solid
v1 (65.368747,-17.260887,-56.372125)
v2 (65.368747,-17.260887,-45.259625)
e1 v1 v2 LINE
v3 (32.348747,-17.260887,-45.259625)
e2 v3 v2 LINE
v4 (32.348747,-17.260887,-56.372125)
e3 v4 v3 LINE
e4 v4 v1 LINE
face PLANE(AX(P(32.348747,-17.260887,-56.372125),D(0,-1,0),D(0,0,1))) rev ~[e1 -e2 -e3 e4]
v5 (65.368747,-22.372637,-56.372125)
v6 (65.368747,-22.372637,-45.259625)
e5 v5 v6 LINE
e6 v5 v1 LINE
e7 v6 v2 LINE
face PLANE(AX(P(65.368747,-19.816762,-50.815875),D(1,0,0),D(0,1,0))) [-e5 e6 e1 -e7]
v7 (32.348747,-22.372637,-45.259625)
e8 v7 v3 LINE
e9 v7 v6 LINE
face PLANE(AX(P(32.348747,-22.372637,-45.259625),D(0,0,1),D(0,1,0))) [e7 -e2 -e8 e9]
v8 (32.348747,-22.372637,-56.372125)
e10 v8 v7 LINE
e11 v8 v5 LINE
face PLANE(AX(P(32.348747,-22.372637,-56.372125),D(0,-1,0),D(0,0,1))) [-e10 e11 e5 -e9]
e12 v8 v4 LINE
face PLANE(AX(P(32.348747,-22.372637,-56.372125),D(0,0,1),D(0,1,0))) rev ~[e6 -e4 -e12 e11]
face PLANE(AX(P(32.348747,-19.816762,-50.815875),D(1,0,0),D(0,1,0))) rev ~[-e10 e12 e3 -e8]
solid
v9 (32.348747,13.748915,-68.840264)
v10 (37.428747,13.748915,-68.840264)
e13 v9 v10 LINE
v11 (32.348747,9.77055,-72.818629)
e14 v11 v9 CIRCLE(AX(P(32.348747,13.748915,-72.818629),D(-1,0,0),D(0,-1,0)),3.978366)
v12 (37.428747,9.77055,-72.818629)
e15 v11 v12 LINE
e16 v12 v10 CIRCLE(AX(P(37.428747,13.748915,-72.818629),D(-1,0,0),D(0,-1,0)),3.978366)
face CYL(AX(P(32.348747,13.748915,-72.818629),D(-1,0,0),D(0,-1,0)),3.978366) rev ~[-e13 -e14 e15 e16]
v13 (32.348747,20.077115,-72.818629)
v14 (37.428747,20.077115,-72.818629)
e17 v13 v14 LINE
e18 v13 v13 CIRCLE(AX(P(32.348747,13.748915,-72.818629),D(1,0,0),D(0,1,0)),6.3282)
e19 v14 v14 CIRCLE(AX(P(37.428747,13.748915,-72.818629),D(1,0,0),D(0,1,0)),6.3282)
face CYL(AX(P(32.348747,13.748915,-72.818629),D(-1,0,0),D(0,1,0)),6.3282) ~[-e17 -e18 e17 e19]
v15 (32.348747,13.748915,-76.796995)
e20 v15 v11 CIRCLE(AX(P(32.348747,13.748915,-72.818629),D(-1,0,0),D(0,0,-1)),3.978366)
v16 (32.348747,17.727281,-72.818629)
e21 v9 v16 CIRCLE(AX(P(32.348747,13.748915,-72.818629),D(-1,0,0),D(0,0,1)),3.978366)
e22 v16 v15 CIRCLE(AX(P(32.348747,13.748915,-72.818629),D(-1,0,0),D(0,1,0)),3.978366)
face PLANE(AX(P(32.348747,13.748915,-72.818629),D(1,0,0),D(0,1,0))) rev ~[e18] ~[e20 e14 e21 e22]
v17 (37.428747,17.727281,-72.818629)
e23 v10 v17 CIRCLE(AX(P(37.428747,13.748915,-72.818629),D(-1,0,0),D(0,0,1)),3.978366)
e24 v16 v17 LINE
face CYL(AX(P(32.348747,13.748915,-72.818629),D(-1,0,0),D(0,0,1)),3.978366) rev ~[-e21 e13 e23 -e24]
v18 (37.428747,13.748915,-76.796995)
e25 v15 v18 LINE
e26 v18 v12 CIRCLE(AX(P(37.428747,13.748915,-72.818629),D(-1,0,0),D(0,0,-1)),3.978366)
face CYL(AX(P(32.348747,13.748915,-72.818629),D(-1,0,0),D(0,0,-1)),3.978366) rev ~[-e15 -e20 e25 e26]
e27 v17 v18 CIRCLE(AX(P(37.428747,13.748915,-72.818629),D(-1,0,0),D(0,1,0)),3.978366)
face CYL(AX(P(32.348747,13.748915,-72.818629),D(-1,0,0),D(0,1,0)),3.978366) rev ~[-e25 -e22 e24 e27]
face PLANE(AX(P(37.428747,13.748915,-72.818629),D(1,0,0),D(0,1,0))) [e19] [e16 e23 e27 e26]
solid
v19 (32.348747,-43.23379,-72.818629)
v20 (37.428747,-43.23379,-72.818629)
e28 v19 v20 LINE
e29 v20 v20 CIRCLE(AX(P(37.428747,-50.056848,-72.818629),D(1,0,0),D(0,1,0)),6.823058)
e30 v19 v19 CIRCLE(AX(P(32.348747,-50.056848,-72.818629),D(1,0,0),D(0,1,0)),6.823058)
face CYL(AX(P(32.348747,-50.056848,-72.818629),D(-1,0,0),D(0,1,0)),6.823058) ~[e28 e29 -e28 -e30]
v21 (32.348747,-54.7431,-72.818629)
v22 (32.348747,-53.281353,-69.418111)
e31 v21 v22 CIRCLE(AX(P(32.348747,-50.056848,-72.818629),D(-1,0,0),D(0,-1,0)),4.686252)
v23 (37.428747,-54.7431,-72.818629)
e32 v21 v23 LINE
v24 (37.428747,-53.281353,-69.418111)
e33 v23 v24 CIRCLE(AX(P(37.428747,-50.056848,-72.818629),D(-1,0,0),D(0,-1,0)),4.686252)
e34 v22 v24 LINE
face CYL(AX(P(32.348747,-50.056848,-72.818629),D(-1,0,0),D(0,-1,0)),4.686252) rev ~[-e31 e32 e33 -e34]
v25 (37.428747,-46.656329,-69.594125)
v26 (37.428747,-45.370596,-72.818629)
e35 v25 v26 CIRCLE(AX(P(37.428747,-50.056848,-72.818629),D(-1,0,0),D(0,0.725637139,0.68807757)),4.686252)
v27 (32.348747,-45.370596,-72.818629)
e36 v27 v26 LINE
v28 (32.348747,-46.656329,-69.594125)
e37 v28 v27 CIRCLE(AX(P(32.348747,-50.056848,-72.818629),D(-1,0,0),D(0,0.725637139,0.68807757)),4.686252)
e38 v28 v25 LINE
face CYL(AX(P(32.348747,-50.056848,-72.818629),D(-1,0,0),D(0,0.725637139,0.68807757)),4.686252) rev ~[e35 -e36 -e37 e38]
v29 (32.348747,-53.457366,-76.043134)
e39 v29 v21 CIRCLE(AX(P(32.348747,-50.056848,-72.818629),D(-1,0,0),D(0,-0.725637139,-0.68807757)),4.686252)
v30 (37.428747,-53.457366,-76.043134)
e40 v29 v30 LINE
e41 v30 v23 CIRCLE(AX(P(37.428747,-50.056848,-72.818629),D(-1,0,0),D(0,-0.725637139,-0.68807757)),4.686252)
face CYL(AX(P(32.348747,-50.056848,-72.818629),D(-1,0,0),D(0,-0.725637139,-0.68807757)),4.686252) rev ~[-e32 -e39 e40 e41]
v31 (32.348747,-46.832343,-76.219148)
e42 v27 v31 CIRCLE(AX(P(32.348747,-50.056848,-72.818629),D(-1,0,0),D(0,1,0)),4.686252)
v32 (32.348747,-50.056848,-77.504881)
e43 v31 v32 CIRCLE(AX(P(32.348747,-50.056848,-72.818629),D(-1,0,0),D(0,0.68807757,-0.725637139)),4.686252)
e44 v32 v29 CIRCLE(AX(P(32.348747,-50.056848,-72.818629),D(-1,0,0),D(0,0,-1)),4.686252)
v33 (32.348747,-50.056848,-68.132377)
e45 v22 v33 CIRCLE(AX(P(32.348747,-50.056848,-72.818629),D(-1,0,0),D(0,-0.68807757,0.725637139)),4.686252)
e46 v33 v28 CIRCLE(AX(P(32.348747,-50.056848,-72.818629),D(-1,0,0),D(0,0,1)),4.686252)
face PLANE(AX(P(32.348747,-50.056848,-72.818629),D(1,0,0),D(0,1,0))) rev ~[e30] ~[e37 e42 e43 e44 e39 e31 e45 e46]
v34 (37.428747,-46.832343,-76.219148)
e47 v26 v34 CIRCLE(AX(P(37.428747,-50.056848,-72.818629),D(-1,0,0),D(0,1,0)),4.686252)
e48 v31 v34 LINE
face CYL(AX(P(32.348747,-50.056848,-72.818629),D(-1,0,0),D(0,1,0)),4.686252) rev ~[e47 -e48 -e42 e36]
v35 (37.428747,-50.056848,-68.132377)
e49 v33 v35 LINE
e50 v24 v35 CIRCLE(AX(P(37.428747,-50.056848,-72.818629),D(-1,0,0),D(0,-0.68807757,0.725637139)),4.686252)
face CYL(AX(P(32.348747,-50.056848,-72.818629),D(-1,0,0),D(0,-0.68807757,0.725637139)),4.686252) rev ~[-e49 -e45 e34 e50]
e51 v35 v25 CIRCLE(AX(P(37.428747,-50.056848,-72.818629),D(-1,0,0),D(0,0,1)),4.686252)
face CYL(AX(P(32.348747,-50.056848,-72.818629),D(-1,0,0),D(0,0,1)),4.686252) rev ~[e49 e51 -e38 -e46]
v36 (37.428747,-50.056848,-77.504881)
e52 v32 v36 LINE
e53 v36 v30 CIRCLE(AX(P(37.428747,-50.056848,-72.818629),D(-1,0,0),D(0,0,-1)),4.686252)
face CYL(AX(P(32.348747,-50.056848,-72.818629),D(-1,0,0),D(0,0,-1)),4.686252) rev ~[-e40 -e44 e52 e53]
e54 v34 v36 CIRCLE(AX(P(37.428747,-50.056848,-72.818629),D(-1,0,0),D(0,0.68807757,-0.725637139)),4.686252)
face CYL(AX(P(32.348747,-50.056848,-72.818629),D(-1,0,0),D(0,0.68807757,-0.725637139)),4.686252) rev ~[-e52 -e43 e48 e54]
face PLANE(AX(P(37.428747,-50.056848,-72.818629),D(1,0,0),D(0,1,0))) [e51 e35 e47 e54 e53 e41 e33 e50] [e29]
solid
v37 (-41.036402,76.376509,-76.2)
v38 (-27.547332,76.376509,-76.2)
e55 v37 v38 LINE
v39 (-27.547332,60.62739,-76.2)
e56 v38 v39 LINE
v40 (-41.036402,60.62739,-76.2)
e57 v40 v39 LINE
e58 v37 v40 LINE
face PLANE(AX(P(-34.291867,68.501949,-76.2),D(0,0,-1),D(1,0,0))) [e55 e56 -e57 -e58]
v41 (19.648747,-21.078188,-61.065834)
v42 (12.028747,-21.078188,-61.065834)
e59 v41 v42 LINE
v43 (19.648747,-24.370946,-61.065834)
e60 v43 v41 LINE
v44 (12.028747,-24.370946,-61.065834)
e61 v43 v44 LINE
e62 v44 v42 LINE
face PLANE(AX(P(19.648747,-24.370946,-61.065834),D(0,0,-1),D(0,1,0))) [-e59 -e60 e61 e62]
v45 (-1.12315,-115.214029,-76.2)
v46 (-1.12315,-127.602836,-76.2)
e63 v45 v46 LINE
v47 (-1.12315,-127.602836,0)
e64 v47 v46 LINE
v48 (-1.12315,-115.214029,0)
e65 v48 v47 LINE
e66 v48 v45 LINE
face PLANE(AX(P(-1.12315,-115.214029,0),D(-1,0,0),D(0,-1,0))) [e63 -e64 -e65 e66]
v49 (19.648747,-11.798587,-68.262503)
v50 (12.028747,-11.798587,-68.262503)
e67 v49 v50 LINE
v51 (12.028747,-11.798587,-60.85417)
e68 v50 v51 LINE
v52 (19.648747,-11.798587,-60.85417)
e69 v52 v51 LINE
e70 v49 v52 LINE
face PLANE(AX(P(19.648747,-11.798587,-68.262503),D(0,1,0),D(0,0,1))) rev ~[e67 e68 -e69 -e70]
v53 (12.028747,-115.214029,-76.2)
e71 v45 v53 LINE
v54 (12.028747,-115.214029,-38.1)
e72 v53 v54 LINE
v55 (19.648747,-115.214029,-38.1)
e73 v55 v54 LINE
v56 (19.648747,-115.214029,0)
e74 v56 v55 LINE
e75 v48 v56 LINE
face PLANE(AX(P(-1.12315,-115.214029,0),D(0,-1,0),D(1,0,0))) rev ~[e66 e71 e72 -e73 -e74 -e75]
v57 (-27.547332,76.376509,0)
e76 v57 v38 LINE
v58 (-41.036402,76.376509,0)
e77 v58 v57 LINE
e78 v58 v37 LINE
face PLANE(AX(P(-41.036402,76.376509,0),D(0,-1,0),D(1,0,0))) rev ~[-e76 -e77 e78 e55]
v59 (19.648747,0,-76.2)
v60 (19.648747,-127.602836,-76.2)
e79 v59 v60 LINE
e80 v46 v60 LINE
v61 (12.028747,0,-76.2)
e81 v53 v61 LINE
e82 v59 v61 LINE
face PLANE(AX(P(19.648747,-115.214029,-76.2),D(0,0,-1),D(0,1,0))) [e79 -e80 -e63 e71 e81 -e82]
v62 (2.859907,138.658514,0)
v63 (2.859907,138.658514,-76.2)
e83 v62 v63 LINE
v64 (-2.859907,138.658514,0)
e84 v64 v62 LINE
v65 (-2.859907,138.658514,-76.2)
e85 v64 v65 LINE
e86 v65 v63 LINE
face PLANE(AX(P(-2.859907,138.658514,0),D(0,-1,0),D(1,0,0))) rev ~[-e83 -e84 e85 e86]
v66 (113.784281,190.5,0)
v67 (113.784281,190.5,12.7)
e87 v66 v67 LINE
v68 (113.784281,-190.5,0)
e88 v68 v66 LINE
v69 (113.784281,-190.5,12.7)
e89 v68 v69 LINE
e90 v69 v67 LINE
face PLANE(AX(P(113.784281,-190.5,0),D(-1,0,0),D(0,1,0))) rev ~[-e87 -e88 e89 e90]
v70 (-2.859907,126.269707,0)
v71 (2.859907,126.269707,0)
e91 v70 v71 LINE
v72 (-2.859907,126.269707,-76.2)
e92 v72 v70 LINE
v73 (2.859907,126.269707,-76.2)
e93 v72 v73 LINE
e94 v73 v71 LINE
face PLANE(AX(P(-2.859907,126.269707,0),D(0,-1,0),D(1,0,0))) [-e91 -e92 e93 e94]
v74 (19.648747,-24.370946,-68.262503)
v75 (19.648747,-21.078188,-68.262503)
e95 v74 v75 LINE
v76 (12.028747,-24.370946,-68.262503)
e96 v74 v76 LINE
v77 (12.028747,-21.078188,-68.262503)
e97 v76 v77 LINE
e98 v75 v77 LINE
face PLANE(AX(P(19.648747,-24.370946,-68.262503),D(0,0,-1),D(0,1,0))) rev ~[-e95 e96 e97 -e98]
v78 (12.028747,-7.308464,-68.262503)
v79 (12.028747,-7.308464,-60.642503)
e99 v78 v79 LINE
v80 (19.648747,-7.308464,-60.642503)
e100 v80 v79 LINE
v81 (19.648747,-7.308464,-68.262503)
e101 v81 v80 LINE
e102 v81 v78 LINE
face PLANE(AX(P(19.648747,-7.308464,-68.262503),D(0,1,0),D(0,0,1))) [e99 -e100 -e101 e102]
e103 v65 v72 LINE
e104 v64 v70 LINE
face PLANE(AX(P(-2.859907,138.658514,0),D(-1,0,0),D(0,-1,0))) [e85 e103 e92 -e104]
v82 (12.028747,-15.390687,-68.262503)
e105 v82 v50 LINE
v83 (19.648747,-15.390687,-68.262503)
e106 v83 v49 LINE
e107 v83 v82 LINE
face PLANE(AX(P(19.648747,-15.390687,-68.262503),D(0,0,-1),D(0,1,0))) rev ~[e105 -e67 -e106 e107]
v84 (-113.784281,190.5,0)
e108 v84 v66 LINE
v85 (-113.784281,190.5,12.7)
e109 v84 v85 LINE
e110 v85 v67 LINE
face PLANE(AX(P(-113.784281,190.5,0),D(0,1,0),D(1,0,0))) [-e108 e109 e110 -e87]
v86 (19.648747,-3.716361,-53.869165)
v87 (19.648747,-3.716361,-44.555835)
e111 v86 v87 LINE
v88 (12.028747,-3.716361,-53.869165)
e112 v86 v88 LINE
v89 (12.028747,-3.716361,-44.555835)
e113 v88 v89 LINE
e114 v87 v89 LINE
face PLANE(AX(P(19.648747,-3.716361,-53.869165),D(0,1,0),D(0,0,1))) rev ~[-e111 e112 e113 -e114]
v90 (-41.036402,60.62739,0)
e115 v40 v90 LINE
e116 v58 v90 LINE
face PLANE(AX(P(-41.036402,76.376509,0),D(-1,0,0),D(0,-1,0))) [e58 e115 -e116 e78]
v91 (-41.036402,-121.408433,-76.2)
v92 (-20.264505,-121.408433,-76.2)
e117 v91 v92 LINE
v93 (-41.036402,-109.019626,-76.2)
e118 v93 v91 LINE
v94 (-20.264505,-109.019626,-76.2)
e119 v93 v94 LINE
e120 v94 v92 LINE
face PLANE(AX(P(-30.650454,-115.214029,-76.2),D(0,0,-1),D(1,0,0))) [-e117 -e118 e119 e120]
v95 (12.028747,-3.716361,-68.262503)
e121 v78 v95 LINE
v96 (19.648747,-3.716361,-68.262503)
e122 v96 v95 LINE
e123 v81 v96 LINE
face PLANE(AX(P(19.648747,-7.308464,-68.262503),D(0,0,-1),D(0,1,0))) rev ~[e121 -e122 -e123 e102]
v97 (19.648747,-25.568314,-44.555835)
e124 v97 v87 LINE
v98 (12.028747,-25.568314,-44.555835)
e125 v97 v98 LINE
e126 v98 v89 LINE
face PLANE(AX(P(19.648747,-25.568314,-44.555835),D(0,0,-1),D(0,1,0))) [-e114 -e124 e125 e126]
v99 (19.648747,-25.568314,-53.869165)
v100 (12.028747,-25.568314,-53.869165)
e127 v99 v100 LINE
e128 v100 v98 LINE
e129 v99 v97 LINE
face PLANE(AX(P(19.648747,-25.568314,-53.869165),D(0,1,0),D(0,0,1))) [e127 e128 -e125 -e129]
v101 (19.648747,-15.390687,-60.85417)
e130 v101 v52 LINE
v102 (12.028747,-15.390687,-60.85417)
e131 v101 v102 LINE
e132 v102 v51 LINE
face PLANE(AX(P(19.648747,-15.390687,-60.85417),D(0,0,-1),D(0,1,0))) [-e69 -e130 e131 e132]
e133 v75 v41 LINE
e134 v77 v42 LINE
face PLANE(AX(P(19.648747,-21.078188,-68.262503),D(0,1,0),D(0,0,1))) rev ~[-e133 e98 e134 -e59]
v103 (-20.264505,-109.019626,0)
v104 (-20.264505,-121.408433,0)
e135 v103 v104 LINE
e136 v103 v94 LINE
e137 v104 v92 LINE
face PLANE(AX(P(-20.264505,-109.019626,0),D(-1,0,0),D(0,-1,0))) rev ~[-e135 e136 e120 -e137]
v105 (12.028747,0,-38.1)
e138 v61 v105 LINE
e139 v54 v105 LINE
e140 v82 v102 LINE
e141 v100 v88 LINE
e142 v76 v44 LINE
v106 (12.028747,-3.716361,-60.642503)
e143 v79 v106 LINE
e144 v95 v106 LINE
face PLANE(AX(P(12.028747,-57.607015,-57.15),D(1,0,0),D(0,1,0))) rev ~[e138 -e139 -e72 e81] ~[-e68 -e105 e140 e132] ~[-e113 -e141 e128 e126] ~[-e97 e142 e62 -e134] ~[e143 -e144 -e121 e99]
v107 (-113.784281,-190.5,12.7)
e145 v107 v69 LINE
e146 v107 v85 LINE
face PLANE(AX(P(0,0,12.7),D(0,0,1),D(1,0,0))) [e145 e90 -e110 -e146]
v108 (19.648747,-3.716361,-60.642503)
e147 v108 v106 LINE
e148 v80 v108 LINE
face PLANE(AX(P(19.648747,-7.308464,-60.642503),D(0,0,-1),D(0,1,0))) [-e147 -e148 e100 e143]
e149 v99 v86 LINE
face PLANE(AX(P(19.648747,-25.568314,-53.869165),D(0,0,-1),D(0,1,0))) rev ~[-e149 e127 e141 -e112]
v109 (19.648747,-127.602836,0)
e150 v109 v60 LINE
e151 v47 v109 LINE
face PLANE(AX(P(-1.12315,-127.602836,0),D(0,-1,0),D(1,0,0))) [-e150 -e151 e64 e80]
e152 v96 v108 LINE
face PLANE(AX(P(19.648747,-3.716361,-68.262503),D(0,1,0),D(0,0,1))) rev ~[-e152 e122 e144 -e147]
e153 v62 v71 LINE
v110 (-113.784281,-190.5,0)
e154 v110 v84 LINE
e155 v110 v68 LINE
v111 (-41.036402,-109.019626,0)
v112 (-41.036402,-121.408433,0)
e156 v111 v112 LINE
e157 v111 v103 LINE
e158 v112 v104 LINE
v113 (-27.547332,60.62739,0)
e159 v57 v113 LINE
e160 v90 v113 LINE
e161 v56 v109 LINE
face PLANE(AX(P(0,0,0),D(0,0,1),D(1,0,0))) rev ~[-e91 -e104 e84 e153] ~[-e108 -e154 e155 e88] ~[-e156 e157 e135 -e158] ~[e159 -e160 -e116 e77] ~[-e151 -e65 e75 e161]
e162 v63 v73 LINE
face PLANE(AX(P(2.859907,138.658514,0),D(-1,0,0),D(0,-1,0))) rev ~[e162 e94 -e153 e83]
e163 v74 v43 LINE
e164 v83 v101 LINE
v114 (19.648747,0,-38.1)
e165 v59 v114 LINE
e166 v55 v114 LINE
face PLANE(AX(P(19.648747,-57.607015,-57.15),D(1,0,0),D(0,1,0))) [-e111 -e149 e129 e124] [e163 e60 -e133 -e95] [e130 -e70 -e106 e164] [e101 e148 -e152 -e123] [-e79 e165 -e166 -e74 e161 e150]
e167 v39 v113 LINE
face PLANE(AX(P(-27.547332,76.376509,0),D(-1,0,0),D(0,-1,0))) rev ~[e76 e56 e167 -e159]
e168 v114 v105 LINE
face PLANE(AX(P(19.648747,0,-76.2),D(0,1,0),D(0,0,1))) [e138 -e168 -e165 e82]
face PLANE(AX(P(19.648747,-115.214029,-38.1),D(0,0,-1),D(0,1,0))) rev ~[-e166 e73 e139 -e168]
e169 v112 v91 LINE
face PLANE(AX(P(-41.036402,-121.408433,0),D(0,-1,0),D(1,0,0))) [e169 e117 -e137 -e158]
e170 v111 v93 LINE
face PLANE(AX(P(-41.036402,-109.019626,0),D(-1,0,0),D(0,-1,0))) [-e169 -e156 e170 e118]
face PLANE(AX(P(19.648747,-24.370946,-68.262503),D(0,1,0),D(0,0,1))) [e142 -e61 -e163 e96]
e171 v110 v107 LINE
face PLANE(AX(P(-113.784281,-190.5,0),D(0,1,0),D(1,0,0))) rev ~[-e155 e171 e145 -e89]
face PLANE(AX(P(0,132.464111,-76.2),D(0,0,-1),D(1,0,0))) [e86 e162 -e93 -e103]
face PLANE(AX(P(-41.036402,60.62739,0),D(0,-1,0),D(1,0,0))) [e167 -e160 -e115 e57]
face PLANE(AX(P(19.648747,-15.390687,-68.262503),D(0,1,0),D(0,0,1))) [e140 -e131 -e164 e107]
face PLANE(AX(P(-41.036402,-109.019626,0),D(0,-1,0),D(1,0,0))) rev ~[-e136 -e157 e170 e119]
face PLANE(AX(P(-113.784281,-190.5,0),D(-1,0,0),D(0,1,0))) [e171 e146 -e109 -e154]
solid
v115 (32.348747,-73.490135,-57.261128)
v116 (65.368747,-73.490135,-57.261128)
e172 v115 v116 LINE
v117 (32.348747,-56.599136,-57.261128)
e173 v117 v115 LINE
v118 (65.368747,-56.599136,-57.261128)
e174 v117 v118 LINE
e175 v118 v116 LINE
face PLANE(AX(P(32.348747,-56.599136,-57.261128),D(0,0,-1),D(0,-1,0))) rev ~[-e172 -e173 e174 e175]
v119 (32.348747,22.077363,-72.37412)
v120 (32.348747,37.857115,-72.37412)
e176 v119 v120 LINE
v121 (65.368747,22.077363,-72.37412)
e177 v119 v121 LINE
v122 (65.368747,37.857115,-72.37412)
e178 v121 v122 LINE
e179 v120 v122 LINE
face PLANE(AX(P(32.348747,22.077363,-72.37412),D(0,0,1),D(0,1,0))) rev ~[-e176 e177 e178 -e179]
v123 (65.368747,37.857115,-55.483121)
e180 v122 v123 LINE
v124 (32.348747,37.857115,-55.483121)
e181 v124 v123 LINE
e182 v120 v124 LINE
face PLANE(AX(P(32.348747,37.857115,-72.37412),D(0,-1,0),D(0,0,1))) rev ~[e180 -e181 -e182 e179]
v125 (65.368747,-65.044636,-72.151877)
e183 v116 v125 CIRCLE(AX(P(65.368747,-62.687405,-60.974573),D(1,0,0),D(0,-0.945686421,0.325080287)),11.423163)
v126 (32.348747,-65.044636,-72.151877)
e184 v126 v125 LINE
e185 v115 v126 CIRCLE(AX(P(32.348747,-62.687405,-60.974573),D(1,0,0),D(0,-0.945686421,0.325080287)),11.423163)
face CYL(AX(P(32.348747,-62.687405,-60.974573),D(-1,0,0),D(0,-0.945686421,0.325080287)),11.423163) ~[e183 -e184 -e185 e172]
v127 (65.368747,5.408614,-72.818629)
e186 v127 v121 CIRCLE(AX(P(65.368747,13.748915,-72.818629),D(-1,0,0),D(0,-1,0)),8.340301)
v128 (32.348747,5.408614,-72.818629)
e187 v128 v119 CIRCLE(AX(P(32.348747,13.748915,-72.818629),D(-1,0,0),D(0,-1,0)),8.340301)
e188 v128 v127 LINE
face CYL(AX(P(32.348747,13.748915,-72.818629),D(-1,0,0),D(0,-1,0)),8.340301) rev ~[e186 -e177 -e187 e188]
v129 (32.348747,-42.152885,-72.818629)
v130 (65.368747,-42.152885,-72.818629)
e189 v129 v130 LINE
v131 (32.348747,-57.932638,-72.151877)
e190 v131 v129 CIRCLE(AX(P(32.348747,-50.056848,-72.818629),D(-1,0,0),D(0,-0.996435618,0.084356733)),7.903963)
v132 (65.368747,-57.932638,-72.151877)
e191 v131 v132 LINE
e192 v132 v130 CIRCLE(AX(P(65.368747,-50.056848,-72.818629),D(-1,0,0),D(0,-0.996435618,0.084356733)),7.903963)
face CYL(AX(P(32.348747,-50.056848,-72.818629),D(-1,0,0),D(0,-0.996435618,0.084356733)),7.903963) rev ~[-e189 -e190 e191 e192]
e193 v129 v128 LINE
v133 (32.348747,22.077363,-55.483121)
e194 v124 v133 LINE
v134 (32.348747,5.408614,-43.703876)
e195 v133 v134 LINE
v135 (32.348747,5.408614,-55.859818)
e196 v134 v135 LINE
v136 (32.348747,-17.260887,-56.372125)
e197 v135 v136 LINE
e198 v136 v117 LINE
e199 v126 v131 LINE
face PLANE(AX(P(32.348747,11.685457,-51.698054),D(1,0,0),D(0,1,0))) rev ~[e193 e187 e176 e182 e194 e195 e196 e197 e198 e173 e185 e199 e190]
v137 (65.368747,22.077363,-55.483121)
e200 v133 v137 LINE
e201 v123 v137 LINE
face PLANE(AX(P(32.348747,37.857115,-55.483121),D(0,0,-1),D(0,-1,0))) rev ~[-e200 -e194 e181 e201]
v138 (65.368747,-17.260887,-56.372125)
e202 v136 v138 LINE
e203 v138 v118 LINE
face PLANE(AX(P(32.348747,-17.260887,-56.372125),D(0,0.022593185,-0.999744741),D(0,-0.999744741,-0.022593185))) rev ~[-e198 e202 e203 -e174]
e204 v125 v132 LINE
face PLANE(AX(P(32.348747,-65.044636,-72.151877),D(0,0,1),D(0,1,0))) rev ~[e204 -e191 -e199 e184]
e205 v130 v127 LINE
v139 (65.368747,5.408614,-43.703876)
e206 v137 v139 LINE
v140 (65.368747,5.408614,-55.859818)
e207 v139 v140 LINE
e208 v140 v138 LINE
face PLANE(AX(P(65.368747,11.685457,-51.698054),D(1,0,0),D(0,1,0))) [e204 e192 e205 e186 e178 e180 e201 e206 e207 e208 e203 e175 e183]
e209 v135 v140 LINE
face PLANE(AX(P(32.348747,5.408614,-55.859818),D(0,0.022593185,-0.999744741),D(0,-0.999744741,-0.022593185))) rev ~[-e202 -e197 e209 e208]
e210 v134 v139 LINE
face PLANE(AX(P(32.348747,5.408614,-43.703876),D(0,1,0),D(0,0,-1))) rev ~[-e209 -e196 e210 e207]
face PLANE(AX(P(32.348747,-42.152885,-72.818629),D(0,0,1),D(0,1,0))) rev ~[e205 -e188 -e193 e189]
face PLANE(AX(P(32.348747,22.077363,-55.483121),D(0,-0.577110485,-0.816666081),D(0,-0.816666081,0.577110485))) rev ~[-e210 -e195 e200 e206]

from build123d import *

# Parameters (mm, degrees)
F0_W      = 227.5685612466
F0_H      = 381
F1_DEPTH  = 12.7
F2_W      = 5.7198144495
F2_H      = 12.3888067901
F2_W_2    = 13.4890703484
F2_H_2    = 15.7491192222
F3_DEPTH  = 25.4
F2_W_3    = 20.7718969323
F4_DEPTH  = 76.2
F5_W      = 115.214029327
F5_H      = 38.1
F6_DEPTH  = 7.62
F7_W      = 21.851953119
F7_H      = 9.3133300543
F7_W_2    = 3.2927580178
F7_H_2    = 7.1966685355
F7_W_3    = 3.5920999944
F7_H_3    = 7.4083320796
F7_W_4    = 3.5921037197
F7_H_4    = 7.6199993491
F8_DEPTH  = 133.4340272107
F12_DEPTH = 33.02
F11_W     = 5.1117502153
F11_H     = 11.1124999821
F11_R     = 6.8230577634
F13_DEPTH = 5.08
F11_R_2   = 6.3281995519
F14_DEPTH = 33.02


with BuildPart() as f1:
    # F0 (on Top) → F1 (new body)
    with BuildSketch(Plane.XY):
        Rectangle(F0_W, F0_H)
    extrude(amount=F1_DEPTH)

    # F2 (on face) → F3 (join)
    with BuildSketch(Plane(origin=(0, 0, 0), x_dir=(1, 0, 0), z_dir=(0, 0, -1))):
        with Locations((0, -132.4641108513)):
            Rectangle(F2_W, F2_H)
        with Locations((-34.2918671668, -68.5019493103)):
            Rectangle(F2_W_2, F2_H_2)
    extrude(amount=F3_DEPTH)

    # F2 (on face) → F4 (join)
    with BuildSketch(Plane(origin=(0, 0, 0), x_dir=(1, 0, 0), z_dir=(0, 0, -1))):
        with Locations((0, -132.4641108513)):
            Rectangle(F2_W, F2_H)
        with Locations((-34.2918671668, -68.5019493103)):
            Rectangle(F2_W_2, F2_H_2)
        with Locations((9.2627981212, 121.4084327221)):
            Rectangle(F2_W_3, F2_H)
        with Locations((-30.6504538748, 115.214029327)):
            Rectangle(F2_W_3, F2_H)
    extrude(amount=F4_DEPTH)

    # F5 (on face) → F6 (join)
    with BuildSketch(Plane.YZ.offset(19.6487465873)):
        with Locations((-57.6070146635, -57.15)):
            Rectangle(F5_W, F5_H)
    extrude(amount=-F6_DEPTH)

    # F7 (on face) → F8 (cut, through all)
    with BuildSketch(Plane.YZ.offset(19.6487465873)):
        with Locations((-14.6423373371, -49.212500453)):
            Rectangle(F7_W, F7_H)
        with Locations((-22.7245669812, -64.6641682833)):
            Rectangle(F7_W_2, F7_H_2)
        with Locations((-13.5946366936, -64.5583365113)):
            Rectangle(F7_W_3, F7_H_3)
        with Locations((-5.5124126375, -64.4525028765)):
            Rectangle(F7_W_4, F7_H_4)
    extrude(amount=-F8_DEPTH, mode=Mode.SUBTRACT)


with BuildPart() as f12:
    # F11 (on offset) → F12 (new body)
    with BuildSketch(Plane.YZ.offset(32.3487465873)):
        with BuildLine():
            ThreePointArc((-57.9326376319, -72.151876986), (-49.7231741627, -64.9217132577), (-42.1528853476, -72.8186294436))
            Line((-42.1528853476, -72.8186294436), (5.4086139426, -72.8186294436))
            Line((5.4086139426, -72.8186294436), (5.4086139426, -55.8598177097))
            Line((5.4086139426, -55.8598177097), (-17.2608867288, -56.3721247017))
            Line((-17.2608867288, -56.3721247017), (-56.5991364419, -57.2611279786))
            Line((-56.5991364419, -57.2611279786), (-73.4901353717, -57.2611279786))
            ThreePointArc((-73.4901353717, -57.2611279786), (-72.6236893565, -66.6100777312), (-65.0446359068, -72.151876986))
            Line((-65.0446359068, -72.151876986), (-57.9326376319, -72.151876986))
        make_face()
        with BuildLine():
            Line((5.4086139426, -55.8598177097), (5.4086139426, -72.8186294436))
            ThreePointArc((5.4086139426, -72.8186294436), (13.5265818153, -64.4812919947), (22.0773629844, -72.3741203547))
            Line((22.0773629844, -72.3741203547), (37.8571152687, -72.3741203547))
            Line((37.8571152687, -72.3741203547), (37.8571152687, -55.4831214249))
            Line((37.8571152687, -55.4831214249), (22.0773629844, -55.4831214249))
            Line((22.0773629844, -55.4831214249), (5.4086139426, -55.8598177097))
        make_face()
    extrude(amount=F12_DEPTH)

    # F11 (on offset) → F14 (join)
    with BuildSketch(Plane.YZ.offset(32.3487465873)):
        Polygon((5.4086139426, -43.7038764358), (5.4086139426, -55.8598177097), (22.0773629844, -55.4831214249), align=None)
    extrude(amount=F14_DEPTH)


with BuildPart() as f12b:
    # F11 (on offset) → F12, piece 2 (new body)
    with BuildSketch(Plane.YZ.offset(32.3487465873)):
        with Locations((-19.8167618364, -50.8158747107)):
            Rectangle(F11_W, F11_H)
    extrude(amount=F12_DEPTH)


with BuildPart() as f13:
    # F11 (on offset) → F13 (new body)
    with BuildSketch(Plane.YZ.offset(32.3487465873)):
        with Locations((-50.0568478592, -72.8186294436)):
            Circle(F11_R)
        with BuildLine():
            ThreePointArc((-46.6563293903, -69.5941245821), (-45.703880836, -71.0829348983), (-45.3705958963, -72.8186294436))
            ThreePointArc((-45.3705958963, -72.8186294436), (-45.7515139757, -74.6693205609), (-46.8323429976, -76.2191479125))
            ThreePointArc((-46.8323429976, -76.2191479125), (-48.3211533138, -77.1715964668), (-50.0568478592, -77.5048814065))
            ThreePointArc((-50.0568478592, -77.5048814065), (-51.9075389764, -77.1239633271), (-53.4573663281, -76.0431343052))
            ThreePointArc((-53.4573663281, -76.0431343052), (-54.4098148823, -74.554323989), (-54.743099822, -72.8186294436))
            ThreePointArc((-54.743099822, -72.8186294436), (-54.3621817426, -70.9679383264), (-53.2813527207, -69.4181109747))
            ThreePointArc((-53.2813527207, -69.4181109747), (-51.7925424045, -68.4656624205), (-50.0568478592, -68.1323774808))
            ThreePointArc((-50.0568478592, -68.1323774808), (-48.2061567419, -68.5132955602), (-46.6563293903, -69.5941245821))
        make_face(mode=Mode.SUBTRACT)
    extrude(amount=F13_DEPTH)


with BuildPart() as f13b:
    # F11 (on offset) → F13, piece 2 (new body)
    with BuildSketch(Plane.YZ.offset(32.3487465873)):
        with Locations((13.7489153729, -72.8186294436)):
            Circle(F11_R_2)
        with BuildLine():
            ThreePointArc((13.7489153729, -68.8402636502), (16.5620448034, -70.0055000131), (17.7272811663, -72.8186294436))
            ThreePointArc((17.7272811663, -72.8186294436), (16.5620448034, -75.6317588742), (13.7489153729, -76.7969952371))
            ThreePointArc((13.7489153729, -76.7969952371), (10.9357859423, -75.6317588742), (9.7705495795, -72.8186294436))
            ThreePointArc((9.7705495795, -72.8186294436), (10.9357859423, -70.0055000131), (13.7489153729, -68.8402636502))
        make_face(mode=Mode.SUBTRACT)
    extrude(amount=F13_DEPTH)


solid = Compound([f1.part, f12.part, f12b.part, f13.part, f13b.part])
